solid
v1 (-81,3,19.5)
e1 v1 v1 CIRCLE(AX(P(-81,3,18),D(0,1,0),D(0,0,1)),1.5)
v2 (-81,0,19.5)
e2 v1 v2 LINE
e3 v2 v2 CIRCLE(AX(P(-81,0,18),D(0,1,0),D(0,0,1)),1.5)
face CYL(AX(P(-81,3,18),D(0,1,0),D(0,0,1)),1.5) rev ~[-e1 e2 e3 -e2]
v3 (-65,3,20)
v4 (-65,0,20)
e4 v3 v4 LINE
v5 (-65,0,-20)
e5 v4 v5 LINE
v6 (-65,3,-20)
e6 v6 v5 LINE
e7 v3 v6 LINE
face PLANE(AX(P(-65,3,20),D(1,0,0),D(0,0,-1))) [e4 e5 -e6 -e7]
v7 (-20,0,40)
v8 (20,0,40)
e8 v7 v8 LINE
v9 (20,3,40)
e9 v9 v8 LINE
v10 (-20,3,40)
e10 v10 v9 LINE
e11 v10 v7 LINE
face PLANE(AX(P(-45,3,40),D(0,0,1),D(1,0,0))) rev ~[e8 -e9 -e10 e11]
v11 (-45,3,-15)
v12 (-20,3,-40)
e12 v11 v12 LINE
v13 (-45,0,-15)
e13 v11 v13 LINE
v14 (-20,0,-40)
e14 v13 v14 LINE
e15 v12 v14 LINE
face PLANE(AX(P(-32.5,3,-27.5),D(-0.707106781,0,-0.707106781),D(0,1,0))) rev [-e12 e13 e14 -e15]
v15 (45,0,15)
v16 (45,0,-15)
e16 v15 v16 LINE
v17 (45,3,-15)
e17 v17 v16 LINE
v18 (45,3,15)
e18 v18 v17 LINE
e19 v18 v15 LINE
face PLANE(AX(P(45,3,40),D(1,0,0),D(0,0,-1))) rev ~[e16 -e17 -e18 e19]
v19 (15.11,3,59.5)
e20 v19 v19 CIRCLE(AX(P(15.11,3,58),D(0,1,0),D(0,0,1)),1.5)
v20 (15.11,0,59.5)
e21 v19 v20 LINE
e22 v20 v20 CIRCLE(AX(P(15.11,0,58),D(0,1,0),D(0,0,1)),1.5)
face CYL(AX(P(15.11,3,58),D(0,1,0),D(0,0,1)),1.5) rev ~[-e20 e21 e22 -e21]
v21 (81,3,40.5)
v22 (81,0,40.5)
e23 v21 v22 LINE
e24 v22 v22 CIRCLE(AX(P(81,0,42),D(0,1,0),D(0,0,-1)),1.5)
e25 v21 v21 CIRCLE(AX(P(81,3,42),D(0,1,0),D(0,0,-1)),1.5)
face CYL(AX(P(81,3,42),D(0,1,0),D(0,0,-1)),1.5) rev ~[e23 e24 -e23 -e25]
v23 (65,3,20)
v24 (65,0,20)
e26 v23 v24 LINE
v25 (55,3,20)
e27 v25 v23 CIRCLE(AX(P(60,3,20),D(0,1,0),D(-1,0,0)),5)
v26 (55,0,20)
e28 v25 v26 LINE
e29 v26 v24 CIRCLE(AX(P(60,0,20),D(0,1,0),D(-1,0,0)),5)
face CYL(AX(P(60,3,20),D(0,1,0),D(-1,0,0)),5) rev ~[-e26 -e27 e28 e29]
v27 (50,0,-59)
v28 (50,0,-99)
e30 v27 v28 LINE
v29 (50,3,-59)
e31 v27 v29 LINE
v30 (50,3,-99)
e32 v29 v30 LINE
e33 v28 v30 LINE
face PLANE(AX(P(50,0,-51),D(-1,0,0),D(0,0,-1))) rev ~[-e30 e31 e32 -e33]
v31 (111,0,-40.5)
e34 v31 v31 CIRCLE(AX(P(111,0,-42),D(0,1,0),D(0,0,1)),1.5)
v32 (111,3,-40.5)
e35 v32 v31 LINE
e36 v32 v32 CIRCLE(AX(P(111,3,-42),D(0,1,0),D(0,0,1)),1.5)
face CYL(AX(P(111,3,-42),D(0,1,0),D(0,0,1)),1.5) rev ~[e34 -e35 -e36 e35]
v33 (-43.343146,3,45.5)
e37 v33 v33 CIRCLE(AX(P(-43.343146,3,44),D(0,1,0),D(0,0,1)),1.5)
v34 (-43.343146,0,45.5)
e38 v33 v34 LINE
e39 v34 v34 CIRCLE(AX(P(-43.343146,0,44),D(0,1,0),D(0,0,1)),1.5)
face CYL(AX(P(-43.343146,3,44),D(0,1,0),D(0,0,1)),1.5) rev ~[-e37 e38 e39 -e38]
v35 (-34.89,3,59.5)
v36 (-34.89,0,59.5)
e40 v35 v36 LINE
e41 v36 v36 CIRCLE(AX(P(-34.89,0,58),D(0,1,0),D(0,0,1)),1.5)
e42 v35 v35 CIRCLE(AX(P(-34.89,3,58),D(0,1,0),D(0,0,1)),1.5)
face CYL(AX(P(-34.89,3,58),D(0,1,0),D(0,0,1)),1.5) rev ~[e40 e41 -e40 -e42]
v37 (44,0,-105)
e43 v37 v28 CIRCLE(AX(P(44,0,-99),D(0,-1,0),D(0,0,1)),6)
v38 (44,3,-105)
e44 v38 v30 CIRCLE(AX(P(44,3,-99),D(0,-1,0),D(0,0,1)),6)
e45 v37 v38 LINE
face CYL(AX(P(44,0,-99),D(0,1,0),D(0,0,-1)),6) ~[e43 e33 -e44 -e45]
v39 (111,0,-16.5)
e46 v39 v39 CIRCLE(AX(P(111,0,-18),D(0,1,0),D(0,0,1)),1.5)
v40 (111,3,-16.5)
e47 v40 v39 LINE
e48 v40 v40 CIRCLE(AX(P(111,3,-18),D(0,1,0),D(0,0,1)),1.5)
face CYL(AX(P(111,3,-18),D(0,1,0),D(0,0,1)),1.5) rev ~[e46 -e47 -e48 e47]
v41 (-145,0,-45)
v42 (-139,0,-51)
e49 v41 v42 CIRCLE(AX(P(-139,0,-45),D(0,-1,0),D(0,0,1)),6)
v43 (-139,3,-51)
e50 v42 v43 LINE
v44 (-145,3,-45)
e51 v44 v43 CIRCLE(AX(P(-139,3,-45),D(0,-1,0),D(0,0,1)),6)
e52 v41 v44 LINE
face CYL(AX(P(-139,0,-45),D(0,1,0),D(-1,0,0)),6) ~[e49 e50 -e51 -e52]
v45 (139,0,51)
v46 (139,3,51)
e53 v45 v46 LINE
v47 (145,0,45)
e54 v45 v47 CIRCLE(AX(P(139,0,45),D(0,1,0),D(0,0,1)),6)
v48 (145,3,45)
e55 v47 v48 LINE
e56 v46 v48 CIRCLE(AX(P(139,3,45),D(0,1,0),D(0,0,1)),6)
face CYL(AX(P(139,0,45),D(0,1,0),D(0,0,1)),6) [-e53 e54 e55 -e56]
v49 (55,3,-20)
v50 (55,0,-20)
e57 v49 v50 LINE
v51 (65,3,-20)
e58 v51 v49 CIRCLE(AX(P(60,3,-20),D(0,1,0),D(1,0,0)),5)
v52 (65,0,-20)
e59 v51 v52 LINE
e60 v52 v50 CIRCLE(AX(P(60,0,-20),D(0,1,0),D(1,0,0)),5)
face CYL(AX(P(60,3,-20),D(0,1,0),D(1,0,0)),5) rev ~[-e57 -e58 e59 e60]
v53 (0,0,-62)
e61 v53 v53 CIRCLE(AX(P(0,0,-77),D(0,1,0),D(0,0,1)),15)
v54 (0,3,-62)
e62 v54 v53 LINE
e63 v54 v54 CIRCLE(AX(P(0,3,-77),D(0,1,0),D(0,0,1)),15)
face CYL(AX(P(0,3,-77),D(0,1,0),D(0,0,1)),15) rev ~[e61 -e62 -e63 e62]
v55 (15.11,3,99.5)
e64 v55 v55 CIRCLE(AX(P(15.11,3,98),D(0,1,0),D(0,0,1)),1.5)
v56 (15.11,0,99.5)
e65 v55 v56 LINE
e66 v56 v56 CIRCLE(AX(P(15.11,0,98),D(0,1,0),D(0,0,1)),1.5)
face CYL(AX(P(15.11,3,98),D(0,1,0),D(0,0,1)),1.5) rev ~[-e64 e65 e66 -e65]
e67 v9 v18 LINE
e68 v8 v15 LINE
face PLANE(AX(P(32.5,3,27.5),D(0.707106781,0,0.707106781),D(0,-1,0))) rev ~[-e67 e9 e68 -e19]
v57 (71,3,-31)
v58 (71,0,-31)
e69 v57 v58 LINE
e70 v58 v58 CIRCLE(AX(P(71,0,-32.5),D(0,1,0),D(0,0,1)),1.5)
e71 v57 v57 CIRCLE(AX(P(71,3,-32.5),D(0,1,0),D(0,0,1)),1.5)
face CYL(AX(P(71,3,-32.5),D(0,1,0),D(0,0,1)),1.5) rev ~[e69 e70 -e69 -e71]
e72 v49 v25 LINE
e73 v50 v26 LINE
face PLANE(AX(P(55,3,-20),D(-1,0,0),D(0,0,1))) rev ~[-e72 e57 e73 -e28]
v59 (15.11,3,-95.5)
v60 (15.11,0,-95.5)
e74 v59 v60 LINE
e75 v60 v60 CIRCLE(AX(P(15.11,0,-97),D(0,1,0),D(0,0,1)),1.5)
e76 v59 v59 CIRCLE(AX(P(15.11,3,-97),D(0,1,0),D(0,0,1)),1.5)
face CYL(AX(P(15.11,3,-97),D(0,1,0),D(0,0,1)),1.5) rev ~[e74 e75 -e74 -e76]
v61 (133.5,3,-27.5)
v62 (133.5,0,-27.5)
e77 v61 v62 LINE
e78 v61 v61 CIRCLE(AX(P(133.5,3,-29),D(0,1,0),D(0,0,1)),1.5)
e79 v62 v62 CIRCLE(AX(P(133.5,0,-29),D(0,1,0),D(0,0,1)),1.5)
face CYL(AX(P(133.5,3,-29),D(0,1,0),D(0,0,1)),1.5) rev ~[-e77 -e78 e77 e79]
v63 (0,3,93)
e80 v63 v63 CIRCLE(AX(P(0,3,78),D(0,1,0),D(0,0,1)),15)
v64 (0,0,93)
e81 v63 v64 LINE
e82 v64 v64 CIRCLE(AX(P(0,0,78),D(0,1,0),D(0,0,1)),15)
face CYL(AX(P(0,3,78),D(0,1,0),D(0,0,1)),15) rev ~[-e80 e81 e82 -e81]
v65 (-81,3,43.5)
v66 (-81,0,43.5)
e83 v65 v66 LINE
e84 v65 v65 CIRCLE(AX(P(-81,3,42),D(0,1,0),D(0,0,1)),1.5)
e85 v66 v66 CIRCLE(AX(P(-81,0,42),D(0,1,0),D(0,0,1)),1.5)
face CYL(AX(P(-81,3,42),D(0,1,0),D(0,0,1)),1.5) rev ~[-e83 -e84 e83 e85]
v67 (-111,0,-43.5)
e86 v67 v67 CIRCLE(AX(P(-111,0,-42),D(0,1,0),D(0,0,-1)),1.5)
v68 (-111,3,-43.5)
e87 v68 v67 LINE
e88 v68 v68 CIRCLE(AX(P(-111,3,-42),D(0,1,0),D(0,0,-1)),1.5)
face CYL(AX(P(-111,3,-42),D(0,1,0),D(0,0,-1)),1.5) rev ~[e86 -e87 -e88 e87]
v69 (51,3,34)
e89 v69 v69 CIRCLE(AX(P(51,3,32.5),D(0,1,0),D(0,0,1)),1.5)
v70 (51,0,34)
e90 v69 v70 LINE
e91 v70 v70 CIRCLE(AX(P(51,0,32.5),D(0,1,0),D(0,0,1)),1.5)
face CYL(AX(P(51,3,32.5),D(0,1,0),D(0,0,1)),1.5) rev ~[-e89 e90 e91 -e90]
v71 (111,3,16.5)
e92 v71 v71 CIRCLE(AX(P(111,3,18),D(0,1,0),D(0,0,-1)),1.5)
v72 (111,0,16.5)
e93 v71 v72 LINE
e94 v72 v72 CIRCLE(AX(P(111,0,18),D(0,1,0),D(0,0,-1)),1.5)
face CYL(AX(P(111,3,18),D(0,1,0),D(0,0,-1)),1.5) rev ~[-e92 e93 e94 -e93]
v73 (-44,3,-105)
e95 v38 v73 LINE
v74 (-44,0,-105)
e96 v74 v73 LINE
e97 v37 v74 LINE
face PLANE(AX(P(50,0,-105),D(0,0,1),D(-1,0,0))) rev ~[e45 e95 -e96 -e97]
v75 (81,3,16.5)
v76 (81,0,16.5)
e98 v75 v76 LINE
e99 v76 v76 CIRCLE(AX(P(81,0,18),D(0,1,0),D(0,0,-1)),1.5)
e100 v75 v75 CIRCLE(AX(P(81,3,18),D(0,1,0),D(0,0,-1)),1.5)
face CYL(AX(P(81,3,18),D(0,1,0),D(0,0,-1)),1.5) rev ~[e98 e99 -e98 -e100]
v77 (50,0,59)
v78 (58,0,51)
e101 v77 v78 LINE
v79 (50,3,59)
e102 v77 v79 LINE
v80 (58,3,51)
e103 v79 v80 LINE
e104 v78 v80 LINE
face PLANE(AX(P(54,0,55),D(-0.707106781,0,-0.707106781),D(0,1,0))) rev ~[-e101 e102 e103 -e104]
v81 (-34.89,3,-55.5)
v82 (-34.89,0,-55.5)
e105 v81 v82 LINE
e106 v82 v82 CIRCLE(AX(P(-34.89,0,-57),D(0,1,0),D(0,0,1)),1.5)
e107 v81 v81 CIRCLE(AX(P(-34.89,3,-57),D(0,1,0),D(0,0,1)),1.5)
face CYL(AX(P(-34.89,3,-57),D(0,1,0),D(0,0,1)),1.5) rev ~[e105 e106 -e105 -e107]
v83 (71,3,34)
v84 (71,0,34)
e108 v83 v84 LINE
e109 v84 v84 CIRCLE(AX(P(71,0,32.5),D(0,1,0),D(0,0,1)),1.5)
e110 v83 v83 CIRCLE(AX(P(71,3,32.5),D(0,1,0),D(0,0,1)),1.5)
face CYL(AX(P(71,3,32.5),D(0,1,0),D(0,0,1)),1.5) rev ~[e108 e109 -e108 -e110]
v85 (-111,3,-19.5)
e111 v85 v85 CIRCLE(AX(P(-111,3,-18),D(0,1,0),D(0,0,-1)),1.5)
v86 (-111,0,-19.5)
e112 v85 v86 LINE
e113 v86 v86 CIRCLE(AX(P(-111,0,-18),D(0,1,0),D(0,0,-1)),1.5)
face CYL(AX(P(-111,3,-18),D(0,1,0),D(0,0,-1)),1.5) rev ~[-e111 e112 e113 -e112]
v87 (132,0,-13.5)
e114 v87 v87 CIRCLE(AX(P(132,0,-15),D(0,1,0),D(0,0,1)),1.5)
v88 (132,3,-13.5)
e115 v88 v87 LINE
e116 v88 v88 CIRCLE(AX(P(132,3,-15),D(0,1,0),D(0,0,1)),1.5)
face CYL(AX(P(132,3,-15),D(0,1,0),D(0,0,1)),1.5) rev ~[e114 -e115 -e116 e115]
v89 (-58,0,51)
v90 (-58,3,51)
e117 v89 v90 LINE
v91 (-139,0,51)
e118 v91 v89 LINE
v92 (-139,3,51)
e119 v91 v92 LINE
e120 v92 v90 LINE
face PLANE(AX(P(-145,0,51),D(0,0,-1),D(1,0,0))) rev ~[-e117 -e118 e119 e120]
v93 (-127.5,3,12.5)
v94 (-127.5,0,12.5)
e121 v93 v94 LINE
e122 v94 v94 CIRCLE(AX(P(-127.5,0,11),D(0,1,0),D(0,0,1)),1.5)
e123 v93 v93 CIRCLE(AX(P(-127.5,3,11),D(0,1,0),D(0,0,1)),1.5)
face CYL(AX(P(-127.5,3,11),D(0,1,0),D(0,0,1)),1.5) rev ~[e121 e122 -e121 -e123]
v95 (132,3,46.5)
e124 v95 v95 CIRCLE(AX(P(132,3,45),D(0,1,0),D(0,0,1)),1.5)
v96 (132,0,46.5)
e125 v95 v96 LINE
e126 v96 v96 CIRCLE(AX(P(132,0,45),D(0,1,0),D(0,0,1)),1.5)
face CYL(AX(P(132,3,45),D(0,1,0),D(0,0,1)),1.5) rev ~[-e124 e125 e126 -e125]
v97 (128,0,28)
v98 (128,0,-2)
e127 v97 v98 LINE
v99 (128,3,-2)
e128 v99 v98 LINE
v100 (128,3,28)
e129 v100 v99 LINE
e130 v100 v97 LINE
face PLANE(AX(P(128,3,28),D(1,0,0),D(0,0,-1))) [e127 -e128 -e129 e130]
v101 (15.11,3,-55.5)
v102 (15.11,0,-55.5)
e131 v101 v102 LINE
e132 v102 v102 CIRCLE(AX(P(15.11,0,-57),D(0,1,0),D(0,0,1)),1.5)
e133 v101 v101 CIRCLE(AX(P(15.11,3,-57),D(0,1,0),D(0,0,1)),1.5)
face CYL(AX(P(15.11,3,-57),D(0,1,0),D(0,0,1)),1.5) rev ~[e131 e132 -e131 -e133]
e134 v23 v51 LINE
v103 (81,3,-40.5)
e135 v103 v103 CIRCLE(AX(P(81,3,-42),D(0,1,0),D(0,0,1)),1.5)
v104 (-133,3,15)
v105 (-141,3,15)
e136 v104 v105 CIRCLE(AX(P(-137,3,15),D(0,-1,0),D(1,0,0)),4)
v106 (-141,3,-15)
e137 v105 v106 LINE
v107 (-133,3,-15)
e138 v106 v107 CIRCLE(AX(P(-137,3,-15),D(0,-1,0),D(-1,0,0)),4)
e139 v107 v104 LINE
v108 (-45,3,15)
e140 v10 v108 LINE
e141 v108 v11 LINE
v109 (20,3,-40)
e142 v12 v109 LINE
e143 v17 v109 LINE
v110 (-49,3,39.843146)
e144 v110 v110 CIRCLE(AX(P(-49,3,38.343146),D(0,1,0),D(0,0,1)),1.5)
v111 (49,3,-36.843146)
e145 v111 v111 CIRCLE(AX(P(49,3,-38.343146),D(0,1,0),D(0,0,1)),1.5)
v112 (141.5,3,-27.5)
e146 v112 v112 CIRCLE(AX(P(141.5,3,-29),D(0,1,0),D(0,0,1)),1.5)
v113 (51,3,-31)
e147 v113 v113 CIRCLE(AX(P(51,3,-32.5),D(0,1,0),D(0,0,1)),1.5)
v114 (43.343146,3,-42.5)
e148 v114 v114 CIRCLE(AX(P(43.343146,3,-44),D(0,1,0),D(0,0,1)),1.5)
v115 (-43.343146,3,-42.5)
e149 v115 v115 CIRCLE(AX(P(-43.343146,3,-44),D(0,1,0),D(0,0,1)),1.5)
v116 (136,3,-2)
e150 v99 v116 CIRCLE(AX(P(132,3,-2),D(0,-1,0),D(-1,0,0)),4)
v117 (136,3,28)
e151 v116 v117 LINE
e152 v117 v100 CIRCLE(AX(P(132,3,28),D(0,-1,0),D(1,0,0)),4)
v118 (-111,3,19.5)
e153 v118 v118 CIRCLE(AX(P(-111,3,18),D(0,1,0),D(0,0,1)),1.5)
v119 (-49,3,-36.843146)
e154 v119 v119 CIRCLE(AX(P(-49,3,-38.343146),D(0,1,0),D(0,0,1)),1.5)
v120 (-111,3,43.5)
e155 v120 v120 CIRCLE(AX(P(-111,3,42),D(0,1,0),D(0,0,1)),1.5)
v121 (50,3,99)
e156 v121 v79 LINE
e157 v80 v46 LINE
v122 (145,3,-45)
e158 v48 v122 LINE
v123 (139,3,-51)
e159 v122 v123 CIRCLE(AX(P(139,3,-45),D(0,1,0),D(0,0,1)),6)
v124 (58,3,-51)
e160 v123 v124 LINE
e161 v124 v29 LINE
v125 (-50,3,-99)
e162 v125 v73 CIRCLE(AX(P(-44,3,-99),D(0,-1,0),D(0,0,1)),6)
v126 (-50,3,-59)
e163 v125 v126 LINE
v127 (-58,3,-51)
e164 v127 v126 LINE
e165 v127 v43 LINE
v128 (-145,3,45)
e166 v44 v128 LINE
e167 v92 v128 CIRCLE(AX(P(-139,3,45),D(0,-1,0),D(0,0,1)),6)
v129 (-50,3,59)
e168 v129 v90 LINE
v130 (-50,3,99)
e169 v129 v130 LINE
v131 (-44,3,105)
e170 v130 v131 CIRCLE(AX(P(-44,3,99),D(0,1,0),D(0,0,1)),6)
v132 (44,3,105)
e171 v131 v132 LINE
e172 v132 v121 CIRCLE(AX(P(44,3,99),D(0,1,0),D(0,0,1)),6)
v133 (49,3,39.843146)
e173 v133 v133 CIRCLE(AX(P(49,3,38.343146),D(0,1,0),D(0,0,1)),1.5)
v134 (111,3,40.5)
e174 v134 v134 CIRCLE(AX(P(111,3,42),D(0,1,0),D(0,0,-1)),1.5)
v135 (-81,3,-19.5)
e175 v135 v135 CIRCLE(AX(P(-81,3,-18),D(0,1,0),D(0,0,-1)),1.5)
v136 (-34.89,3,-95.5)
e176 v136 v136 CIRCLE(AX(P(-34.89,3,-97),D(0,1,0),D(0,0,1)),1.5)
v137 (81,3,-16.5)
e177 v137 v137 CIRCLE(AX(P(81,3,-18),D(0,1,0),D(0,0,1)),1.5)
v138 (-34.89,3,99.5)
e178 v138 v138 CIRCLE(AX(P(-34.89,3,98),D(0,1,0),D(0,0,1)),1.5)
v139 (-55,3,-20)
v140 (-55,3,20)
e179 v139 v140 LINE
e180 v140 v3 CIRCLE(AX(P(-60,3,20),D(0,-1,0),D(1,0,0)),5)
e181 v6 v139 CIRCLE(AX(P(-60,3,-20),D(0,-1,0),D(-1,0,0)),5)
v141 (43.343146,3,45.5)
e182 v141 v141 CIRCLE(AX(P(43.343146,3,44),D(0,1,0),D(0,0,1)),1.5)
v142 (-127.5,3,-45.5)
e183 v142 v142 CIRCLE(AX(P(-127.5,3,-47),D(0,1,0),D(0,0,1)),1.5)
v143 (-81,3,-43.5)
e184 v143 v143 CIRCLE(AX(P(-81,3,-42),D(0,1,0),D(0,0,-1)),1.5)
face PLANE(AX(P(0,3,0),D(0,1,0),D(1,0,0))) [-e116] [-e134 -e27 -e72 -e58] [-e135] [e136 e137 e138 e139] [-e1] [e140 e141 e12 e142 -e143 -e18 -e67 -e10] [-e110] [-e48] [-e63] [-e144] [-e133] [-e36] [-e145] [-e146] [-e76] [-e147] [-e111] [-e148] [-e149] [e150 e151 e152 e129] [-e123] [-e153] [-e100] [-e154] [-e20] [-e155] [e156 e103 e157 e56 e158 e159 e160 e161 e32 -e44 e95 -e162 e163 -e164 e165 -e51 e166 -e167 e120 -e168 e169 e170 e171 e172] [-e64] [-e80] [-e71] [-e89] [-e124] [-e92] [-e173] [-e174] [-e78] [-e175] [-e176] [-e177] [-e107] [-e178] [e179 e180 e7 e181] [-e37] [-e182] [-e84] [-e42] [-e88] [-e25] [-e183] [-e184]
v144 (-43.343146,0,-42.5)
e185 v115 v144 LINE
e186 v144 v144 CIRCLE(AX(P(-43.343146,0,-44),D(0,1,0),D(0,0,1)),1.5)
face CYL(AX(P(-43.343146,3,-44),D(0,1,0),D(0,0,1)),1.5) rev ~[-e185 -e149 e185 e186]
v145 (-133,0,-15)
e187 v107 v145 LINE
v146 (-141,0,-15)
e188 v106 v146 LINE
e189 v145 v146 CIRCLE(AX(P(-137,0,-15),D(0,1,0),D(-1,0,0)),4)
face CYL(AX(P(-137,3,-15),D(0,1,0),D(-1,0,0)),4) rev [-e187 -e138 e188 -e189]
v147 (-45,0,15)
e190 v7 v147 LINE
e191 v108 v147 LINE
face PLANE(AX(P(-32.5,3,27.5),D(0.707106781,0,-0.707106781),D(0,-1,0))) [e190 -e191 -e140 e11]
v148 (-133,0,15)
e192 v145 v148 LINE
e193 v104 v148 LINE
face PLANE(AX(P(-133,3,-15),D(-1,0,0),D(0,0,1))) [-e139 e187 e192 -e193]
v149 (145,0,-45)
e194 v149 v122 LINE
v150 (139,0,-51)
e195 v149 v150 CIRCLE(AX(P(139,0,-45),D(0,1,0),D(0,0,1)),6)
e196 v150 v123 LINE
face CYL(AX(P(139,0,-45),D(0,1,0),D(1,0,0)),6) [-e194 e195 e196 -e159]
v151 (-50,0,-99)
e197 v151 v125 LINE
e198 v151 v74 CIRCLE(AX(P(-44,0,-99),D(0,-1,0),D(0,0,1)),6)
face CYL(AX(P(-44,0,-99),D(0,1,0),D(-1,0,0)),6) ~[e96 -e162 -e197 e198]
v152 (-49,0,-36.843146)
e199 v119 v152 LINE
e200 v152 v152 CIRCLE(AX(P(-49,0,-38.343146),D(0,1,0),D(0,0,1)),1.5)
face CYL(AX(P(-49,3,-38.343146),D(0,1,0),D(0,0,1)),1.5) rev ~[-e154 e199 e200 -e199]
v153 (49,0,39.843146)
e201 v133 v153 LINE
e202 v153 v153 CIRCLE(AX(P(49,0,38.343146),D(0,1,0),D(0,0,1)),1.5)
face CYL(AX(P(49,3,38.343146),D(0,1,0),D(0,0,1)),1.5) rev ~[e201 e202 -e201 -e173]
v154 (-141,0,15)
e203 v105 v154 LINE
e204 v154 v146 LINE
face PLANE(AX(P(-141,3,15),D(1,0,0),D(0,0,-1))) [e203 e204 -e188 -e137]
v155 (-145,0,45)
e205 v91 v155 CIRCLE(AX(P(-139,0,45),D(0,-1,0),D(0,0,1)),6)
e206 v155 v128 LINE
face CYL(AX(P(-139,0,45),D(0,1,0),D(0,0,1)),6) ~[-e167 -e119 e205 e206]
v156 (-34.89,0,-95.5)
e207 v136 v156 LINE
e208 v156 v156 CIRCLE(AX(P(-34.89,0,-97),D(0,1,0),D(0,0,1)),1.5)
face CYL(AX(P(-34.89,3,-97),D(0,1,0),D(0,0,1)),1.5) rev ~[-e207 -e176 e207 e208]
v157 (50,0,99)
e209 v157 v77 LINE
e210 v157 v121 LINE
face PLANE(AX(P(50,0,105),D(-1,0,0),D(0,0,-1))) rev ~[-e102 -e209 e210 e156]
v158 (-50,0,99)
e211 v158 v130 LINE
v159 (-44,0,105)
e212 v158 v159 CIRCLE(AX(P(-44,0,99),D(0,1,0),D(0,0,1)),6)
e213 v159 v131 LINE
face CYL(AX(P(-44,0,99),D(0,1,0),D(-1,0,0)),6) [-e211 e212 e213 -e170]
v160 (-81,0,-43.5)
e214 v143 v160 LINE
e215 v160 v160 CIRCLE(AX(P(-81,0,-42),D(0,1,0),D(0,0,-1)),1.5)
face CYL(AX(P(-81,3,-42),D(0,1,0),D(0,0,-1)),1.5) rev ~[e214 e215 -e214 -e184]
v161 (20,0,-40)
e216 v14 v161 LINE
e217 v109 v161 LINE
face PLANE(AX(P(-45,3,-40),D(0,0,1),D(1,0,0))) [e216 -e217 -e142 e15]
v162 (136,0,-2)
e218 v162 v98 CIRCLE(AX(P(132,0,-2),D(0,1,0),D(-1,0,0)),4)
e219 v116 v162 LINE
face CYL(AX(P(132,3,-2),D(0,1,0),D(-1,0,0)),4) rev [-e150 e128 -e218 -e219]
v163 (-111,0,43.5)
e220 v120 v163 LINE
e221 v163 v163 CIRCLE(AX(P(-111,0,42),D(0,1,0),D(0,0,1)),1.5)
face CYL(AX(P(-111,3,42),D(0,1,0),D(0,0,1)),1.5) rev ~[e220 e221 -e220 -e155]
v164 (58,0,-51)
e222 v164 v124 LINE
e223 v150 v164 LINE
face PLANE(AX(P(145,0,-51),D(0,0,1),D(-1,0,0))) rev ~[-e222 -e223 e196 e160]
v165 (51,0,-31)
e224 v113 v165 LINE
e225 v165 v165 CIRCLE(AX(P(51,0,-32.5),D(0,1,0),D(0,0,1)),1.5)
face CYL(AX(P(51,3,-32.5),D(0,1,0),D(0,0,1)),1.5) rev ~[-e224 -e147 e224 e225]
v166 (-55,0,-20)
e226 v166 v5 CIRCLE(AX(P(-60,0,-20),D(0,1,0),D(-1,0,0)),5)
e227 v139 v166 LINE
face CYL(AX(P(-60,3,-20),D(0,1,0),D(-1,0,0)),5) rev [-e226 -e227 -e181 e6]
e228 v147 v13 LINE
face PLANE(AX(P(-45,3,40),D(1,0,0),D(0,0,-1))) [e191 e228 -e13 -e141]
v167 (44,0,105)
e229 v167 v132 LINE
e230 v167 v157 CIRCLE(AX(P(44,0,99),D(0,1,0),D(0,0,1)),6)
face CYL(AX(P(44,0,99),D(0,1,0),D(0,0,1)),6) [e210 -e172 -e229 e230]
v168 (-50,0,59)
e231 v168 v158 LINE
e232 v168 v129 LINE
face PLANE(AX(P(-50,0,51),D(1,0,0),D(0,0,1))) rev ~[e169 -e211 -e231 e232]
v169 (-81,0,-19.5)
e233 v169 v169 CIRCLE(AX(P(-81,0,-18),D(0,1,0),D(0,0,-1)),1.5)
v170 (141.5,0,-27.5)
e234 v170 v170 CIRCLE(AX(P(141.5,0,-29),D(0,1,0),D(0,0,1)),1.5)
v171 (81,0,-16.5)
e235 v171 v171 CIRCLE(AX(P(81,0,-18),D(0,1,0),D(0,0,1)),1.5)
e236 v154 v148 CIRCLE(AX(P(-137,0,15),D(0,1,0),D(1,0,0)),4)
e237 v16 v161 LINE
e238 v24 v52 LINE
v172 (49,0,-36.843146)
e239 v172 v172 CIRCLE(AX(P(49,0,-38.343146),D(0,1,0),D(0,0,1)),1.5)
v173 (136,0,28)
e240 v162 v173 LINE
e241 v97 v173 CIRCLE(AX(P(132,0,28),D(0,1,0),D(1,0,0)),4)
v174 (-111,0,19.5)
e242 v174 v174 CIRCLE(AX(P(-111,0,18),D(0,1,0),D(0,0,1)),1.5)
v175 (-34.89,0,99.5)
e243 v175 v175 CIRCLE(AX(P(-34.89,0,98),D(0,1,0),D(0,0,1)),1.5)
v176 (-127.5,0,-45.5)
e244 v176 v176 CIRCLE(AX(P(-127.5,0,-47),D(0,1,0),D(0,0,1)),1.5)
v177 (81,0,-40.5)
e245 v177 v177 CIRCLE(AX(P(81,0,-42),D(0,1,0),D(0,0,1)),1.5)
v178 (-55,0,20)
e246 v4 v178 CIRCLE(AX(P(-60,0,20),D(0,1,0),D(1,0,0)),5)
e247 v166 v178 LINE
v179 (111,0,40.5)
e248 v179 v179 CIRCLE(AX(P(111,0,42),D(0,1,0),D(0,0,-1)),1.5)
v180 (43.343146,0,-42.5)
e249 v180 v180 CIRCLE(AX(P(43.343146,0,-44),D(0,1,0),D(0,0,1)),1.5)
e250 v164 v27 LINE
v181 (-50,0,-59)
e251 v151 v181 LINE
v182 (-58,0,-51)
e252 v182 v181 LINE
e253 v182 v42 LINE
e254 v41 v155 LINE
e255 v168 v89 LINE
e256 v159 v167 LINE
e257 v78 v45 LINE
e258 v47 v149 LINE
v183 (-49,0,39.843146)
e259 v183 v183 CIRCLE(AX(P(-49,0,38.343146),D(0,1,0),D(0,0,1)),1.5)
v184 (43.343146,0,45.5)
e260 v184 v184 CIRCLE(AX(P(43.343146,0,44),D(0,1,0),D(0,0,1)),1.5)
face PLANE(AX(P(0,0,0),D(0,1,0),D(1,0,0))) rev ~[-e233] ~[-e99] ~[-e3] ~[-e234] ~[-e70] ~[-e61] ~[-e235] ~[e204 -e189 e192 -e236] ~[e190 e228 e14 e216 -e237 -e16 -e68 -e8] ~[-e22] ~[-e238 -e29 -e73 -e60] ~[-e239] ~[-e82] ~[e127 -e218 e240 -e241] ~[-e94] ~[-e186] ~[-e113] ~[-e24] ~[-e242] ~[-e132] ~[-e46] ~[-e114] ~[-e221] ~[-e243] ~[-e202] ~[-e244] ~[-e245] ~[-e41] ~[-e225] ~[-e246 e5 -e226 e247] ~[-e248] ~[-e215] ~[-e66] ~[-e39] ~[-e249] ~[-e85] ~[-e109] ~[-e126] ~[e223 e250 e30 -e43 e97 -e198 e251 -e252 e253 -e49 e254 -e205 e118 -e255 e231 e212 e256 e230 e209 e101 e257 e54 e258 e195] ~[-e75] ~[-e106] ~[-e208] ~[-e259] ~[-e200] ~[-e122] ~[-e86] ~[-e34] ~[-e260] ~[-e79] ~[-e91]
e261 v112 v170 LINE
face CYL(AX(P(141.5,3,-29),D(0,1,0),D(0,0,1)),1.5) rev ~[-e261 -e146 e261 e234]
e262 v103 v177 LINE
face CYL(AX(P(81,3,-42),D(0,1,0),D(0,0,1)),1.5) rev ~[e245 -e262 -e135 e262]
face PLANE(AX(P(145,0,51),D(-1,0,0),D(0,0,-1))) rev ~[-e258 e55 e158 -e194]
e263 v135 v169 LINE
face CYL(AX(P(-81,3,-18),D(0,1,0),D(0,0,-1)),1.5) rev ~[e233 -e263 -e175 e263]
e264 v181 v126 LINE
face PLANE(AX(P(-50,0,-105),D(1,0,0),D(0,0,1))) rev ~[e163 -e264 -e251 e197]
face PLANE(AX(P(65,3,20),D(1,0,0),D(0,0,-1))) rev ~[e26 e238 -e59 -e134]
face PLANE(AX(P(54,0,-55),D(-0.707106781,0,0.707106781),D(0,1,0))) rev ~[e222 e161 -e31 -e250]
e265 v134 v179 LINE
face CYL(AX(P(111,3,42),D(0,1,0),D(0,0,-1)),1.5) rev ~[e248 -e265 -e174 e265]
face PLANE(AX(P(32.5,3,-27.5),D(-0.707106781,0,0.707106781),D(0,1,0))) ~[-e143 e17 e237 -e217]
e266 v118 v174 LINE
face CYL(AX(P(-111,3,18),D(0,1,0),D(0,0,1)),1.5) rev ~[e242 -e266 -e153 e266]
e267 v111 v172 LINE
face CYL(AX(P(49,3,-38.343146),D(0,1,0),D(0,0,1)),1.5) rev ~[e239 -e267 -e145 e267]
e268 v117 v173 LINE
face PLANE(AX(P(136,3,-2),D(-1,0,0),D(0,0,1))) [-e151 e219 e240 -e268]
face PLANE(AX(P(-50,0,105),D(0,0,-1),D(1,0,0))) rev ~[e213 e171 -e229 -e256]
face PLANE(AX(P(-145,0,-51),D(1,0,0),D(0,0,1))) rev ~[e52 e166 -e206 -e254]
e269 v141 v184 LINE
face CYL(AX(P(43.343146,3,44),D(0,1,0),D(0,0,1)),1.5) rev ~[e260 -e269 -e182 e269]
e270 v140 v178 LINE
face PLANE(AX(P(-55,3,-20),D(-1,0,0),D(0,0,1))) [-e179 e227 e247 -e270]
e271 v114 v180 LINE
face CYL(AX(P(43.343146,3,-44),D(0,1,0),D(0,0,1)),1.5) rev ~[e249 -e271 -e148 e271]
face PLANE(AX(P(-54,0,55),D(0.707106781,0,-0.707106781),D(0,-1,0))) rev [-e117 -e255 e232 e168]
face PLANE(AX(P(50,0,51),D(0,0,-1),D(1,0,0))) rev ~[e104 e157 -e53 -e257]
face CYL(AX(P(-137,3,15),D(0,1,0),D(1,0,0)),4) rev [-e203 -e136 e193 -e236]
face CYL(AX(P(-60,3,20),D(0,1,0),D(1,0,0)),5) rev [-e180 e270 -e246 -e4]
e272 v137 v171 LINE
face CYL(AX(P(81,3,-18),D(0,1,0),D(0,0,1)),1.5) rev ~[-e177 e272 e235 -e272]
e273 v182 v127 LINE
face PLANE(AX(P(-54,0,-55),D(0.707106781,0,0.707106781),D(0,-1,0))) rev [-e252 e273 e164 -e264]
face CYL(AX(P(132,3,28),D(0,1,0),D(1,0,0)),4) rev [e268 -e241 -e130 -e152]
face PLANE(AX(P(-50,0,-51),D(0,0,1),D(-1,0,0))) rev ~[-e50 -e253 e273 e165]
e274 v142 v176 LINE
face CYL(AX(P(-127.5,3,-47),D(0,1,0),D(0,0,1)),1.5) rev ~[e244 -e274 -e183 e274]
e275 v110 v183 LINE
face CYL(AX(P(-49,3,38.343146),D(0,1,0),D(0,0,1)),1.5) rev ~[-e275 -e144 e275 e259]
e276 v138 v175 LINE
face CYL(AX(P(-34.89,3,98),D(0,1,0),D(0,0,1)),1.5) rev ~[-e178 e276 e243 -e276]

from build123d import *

# Parameters (mm, degrees)
EXTRUDE_1_DEPTH     = 3
SKETCH_2_R          = 1.5
CUT_EXTRUDE_1_DEPTH = 3
SKETCH_3_R          = 15
SKETCH_3_R_2        = 1.5
CUT_EXTRUDE_2_DEPTH = 10
SKETCH_4_W          = 90
SKETCH_4_H          = 80
CUT_EXTRUDE_3_DEPTH = 3
FILLET_3_R          = 6
CHAMFER_1_SIZE      = 8
SKETCH_7_R          = 1.5
CUT_EXTRUDE_6_DEPTH = 10
CHAMFER_2_SIZE      = 25
SKETCH_8_R          = 1.5
CUT_EXTRUDE_7_DEPTH = 10
SKETCH_9_R          = 1.5
CUT_EXTRUDE_8_DEPTH = 10


with BuildPart() as part:
    # 草图1 → 凸台-拉伸1 (new body)
    with BuildSketch(Plane(origin=(0, 0, 0), x_dir=(1, 0, 0), z_dir=(0, 1, 0))):
        Polygon((-50, -51), (-50, -105), (50, -105), (50, -51), (145, -51), (145, 51), (50, 51), (50, 105), (-50, 105), (-50, 51), (-145, 51), (-145, -51), align=None)
    extrude(amount=EXTRUDE_1_DEPTH)

    # 草图2 → 切除-拉伸1 (cut)
    with BuildSketch(Plane(origin=(0, 3, 0), x_dir=(1, 0, 0), z_dir=(0, 1, 0))):
        with Locations(Location((111, 42, 0), (0, 0, 270))):
            Circle(SKETCH_2_R)
        with Locations(Location((81, 42, 0), (0, 0, 270))):
            Circle(SKETCH_2_R)
        with Locations(Location((81, 18, 0), (0, 0, 270))):
            Circle(SKETCH_2_R)
        with Locations(Location((111, 18, 0), (0, 0, 270))):
            Circle(SKETCH_2_R)
        with Locations(Location((111, -18, 0), (0, 0, 90))):
            Circle(SKETCH_2_R)
        with Locations(Location((111, -42, 0), (0, 0, 90))):
            Circle(SKETCH_2_R)
        with Locations(Location((81, -18, 0), (0, 0, 90))):
            Circle(SKETCH_2_R)
        with Locations(Location((81, -42, 0), (0, 0, 90))):
            Circle(SKETCH_2_R)
        with Locations(Location((-81, -42, 0), (0, 0, 270))):
            Circle(SKETCH_2_R)
        with Locations(Location((-81, -18, 0), (0, 0, 270))):
            Circle(SKETCH_2_R)
        with Locations(Location((-111, -42, 0), (0, 0, 270))):
            Circle(SKETCH_2_R)
        with Locations(Location((-111, -18, 0), (0, 0, 270))):
            Circle(SKETCH_2_R)
        with Locations(Location((-111, 18, 0), (0, 0, 90))):
            Circle(SKETCH_2_R)
        with Locations(Location((-81, 18, 0), (0, 0, 90))):
            Circle(SKETCH_2_R)
        with Locations(Location((-81, 42, 0), (0, 0, 90))):
            Circle(SKETCH_2_R)
        with Locations(Location((-111, 42, 0), (0, 0, 90))):
            Circle(SKETCH_2_R)
    extrude(amount=-CUT_EXTRUDE_1_DEPTH, mode=Mode.SUBTRACT)

    # 草图3 → 切除-拉伸2 (cut)
    with BuildSketch(Plane(origin=(0, 3, 0), x_dir=(1, 0, 0), z_dir=(0, 1, 0))):
        with Locations(Location((0, 77, 0), (0, 0, 270))):
            Circle(SKETCH_3_R)
        with Locations(Location((0, -78, 0), (0, 0, 270))):
            Circle(SKETCH_3_R)
        with Locations(Location((15.11, -58, 0), (0, 0, 270))):
            Circle(SKETCH_3_R_2)
        with Locations(Location((15.11, -98, 0), (0, 0, 270))):
            Circle(SKETCH_3_R_2)
        with Locations(Location((-34.89, -98, 0), (0, 0, 270))):
            Circle(SKETCH_3_R_2)
        with Locations(Location((-34.89, -58, 0), (0, 0, 270))):
            Circle(SKETCH_3_R_2)
        with Locations(Location((15.11, 97, 0), (0, 0, 270))):
            Circle(SKETCH_3_R_2)
        with Locations(Location((15.11, 57, 0), (0, 0, 270))):
            Circle(SKETCH_3_R_2)
        with Locations(Location((-34.89, 57, 0), (0, 0, 270))):
            Circle(SKETCH_3_R_2)
        with Locations(Location((-34.89, 97, 0), (0, 0, 270))):
            Circle(SKETCH_3_R_2)
    extrude(amount=-CUT_EXTRUDE_2_DEPTH, mode=Mode.SUBTRACT)

    # 草图4 → 切除-拉伸3 (cut)
    with BuildSketch(Plane(origin=(0, 3, 0), x_dir=(1, 0, 0), z_dir=(0, 1, 0))):
        Rectangle(SKETCH_4_W, SKETCH_4_H)
    extrude(amount=-CUT_EXTRUDE_3_DEPTH, mode=Mode.SUBTRACT)

    # 圆角3
    fillet_3_edges = [part.edges().sort_by_distance(p)[0] for p in [
        (-145, 1.5, 51),
        (-145, 1.5, -51),
        (-50, 1.5, -105),
        (50, 1.5, -105),
        (145, 1.5, -51),
        (145, 1.5, 51),
        (50, 1.5, 105),
        (-50, 1.5, 105),
    ]]
    fillet(fillet_3_edges, radius=FILLET_3_R)

    # 倒角1
    chamfer_1_edges = [part.edges().sort_by_distance(p)[0] for p in [
        (-50, 1.5, 51),
        (-50, 1.5, -51),
        (50, 1.5, -51),
        (50, 1.5, 51),
    ]]
    chamfer(chamfer_1_edges, length=CHAMFER_1_SIZE)

    # 草图7 → 切除-拉伸6 (cut)
    with BuildSketch(Plane(origin=(0, 3, 0), x_dir=(1, 0, 0), z_dir=(0, 1, 0))):
        with Locations(Location((141.5, 29, 0), (0, 0, 270))):
            Circle(SKETCH_7_R)
        with Locations(Location((133.5, 29, 0), (0, 0, 270))):
            Circle(SKETCH_7_R)
        with Locations(Location((132, 15, 0), (0, 0, 270))):
            Circle(SKETCH_7_R)
        with Locations(Location((132, -45, 0), (0, 0, 270))):
            Circle(SKETCH_7_R)
        with Locations(Location((51, 32.5, 0), (0, 0, 270))):
            Circle(SKETCH_7_R)
        with Locations(Location((51, -32.5, 0), (0, 0, 270))):
            Circle(SKETCH_7_R)
        with Locations(Location((71, 32.5, 0), (0, 0, 270))):
            Circle(SKETCH_7_R)
        with Locations(Location((71, -32.5, 0), (0, 0, 270))):
            Circle(SKETCH_7_R)
        with BuildLine():
            Line((-65, -20), (-65, 20))
            ThreePointArc((-65, 20), (-60, 25), (-55, 20))
            Line((-55, 20), (-55, -20))
            ThreePointArc((-55, -20), (-60, -25), (-65, -20))
        make_face()
        with BuildLine():
            Line((65, -20), (65, 20))
            ThreePointArc((65, 20), (60, 25), (55, 20))
            Line((55, 20), (55, -20))
            ThreePointArc((55, -20), (60, -25), (65, -20))
        make_face()
        with BuildLine():
            Line((-141, -15), (-141, 15))
            ThreePointArc((-141, 15), (-137, 19), (-133, 15))
            Line((-133, 15), (-133, -15))
            ThreePointArc((-133, -15), (-137, -19), (-141, -15))
        make_face()
        with BuildLine():
            Line((128, -28), (128, 2))
            ThreePointArc((128, 2), (132, 6), (136, 2))
            Line((136, 2), (136, -28))
            ThreePointArc((136, -28), (132, -32), (128, -28))
        make_face()
    extrude(amount=-CUT_EXTRUDE_6_DEPTH, mode=Mode.SUBTRACT)

    # 倒角2
    chamfer_2_edges = [part.edges().sort_by_distance(p)[0] for p in [
        (45, 1.5, -40),
        (45, 1.5, 40),
        (-45, 1.5, 40),
        (-45, 1.5, -40),
    ]]
    chamfer(chamfer_2_edges, length=CHAMFER_2_SIZE)

    # 草图8 → 切除-拉伸7 (cut)
    with BuildSketch(Plane(origin=(0, 3, 0), x_dir=(1, 0, 0), z_dir=(0, 1, 0))):
        with Locations(Location((-127.5, 47, 0), (0, 0, 270))):
            Circle(SKETCH_8_R)
        with Locations(Location((-127.5, -11, 0), (0, 0, 270))):
            Circle(SKETCH_8_R)
    extrude(amount=-CUT_EXTRUDE_7_DEPTH, mode=Mode.SUBTRACT)

    # 草图9 → 切除-拉伸8 (cut)
    with BuildSketch(Plane(origin=(0, 3, 0), x_dir=(1, 0, 0), z_dir=(0, 1, 0))):
        with Locations(Location((43.343145751, 44, 0), (0, 0, 270))):
            Circle(SKETCH_9_R)
        with Locations(Location((49, 38.343145751, 0), (0, 0, 270))):
            Circle(SKETCH_9_R)
        with Locations(Location((49, -38.343145751, 0), (0, 0, 270))):
            Circle(SKETCH_9_R)
        with Locations(Location((43.343145751, -44, 0), (0, 0, 270))):
            Circle(SKETCH_9_R)
        with Locations(Location((-43.343145751, -44, 0), (0, 0, 270))):
            Circle(SKETCH_9_R)
        with Locations(Location((-49, -38.343145751, 0), (0, 0, 270))):
            Circle(SKETCH_9_R)
        with Locations(Location((-49, 38.343145751, 0), (0, 0, 270))):
            Circle(SKETCH_9_R)
        with Locations(Location((-43.343145751, 44, 0), (0, 0, 270))):
            Circle(SKETCH_9_R)
    extrude(amount=-CUT_EXTRUDE_8_DEPTH, mode=Mode.SUBTRACT)


solid = part.part
